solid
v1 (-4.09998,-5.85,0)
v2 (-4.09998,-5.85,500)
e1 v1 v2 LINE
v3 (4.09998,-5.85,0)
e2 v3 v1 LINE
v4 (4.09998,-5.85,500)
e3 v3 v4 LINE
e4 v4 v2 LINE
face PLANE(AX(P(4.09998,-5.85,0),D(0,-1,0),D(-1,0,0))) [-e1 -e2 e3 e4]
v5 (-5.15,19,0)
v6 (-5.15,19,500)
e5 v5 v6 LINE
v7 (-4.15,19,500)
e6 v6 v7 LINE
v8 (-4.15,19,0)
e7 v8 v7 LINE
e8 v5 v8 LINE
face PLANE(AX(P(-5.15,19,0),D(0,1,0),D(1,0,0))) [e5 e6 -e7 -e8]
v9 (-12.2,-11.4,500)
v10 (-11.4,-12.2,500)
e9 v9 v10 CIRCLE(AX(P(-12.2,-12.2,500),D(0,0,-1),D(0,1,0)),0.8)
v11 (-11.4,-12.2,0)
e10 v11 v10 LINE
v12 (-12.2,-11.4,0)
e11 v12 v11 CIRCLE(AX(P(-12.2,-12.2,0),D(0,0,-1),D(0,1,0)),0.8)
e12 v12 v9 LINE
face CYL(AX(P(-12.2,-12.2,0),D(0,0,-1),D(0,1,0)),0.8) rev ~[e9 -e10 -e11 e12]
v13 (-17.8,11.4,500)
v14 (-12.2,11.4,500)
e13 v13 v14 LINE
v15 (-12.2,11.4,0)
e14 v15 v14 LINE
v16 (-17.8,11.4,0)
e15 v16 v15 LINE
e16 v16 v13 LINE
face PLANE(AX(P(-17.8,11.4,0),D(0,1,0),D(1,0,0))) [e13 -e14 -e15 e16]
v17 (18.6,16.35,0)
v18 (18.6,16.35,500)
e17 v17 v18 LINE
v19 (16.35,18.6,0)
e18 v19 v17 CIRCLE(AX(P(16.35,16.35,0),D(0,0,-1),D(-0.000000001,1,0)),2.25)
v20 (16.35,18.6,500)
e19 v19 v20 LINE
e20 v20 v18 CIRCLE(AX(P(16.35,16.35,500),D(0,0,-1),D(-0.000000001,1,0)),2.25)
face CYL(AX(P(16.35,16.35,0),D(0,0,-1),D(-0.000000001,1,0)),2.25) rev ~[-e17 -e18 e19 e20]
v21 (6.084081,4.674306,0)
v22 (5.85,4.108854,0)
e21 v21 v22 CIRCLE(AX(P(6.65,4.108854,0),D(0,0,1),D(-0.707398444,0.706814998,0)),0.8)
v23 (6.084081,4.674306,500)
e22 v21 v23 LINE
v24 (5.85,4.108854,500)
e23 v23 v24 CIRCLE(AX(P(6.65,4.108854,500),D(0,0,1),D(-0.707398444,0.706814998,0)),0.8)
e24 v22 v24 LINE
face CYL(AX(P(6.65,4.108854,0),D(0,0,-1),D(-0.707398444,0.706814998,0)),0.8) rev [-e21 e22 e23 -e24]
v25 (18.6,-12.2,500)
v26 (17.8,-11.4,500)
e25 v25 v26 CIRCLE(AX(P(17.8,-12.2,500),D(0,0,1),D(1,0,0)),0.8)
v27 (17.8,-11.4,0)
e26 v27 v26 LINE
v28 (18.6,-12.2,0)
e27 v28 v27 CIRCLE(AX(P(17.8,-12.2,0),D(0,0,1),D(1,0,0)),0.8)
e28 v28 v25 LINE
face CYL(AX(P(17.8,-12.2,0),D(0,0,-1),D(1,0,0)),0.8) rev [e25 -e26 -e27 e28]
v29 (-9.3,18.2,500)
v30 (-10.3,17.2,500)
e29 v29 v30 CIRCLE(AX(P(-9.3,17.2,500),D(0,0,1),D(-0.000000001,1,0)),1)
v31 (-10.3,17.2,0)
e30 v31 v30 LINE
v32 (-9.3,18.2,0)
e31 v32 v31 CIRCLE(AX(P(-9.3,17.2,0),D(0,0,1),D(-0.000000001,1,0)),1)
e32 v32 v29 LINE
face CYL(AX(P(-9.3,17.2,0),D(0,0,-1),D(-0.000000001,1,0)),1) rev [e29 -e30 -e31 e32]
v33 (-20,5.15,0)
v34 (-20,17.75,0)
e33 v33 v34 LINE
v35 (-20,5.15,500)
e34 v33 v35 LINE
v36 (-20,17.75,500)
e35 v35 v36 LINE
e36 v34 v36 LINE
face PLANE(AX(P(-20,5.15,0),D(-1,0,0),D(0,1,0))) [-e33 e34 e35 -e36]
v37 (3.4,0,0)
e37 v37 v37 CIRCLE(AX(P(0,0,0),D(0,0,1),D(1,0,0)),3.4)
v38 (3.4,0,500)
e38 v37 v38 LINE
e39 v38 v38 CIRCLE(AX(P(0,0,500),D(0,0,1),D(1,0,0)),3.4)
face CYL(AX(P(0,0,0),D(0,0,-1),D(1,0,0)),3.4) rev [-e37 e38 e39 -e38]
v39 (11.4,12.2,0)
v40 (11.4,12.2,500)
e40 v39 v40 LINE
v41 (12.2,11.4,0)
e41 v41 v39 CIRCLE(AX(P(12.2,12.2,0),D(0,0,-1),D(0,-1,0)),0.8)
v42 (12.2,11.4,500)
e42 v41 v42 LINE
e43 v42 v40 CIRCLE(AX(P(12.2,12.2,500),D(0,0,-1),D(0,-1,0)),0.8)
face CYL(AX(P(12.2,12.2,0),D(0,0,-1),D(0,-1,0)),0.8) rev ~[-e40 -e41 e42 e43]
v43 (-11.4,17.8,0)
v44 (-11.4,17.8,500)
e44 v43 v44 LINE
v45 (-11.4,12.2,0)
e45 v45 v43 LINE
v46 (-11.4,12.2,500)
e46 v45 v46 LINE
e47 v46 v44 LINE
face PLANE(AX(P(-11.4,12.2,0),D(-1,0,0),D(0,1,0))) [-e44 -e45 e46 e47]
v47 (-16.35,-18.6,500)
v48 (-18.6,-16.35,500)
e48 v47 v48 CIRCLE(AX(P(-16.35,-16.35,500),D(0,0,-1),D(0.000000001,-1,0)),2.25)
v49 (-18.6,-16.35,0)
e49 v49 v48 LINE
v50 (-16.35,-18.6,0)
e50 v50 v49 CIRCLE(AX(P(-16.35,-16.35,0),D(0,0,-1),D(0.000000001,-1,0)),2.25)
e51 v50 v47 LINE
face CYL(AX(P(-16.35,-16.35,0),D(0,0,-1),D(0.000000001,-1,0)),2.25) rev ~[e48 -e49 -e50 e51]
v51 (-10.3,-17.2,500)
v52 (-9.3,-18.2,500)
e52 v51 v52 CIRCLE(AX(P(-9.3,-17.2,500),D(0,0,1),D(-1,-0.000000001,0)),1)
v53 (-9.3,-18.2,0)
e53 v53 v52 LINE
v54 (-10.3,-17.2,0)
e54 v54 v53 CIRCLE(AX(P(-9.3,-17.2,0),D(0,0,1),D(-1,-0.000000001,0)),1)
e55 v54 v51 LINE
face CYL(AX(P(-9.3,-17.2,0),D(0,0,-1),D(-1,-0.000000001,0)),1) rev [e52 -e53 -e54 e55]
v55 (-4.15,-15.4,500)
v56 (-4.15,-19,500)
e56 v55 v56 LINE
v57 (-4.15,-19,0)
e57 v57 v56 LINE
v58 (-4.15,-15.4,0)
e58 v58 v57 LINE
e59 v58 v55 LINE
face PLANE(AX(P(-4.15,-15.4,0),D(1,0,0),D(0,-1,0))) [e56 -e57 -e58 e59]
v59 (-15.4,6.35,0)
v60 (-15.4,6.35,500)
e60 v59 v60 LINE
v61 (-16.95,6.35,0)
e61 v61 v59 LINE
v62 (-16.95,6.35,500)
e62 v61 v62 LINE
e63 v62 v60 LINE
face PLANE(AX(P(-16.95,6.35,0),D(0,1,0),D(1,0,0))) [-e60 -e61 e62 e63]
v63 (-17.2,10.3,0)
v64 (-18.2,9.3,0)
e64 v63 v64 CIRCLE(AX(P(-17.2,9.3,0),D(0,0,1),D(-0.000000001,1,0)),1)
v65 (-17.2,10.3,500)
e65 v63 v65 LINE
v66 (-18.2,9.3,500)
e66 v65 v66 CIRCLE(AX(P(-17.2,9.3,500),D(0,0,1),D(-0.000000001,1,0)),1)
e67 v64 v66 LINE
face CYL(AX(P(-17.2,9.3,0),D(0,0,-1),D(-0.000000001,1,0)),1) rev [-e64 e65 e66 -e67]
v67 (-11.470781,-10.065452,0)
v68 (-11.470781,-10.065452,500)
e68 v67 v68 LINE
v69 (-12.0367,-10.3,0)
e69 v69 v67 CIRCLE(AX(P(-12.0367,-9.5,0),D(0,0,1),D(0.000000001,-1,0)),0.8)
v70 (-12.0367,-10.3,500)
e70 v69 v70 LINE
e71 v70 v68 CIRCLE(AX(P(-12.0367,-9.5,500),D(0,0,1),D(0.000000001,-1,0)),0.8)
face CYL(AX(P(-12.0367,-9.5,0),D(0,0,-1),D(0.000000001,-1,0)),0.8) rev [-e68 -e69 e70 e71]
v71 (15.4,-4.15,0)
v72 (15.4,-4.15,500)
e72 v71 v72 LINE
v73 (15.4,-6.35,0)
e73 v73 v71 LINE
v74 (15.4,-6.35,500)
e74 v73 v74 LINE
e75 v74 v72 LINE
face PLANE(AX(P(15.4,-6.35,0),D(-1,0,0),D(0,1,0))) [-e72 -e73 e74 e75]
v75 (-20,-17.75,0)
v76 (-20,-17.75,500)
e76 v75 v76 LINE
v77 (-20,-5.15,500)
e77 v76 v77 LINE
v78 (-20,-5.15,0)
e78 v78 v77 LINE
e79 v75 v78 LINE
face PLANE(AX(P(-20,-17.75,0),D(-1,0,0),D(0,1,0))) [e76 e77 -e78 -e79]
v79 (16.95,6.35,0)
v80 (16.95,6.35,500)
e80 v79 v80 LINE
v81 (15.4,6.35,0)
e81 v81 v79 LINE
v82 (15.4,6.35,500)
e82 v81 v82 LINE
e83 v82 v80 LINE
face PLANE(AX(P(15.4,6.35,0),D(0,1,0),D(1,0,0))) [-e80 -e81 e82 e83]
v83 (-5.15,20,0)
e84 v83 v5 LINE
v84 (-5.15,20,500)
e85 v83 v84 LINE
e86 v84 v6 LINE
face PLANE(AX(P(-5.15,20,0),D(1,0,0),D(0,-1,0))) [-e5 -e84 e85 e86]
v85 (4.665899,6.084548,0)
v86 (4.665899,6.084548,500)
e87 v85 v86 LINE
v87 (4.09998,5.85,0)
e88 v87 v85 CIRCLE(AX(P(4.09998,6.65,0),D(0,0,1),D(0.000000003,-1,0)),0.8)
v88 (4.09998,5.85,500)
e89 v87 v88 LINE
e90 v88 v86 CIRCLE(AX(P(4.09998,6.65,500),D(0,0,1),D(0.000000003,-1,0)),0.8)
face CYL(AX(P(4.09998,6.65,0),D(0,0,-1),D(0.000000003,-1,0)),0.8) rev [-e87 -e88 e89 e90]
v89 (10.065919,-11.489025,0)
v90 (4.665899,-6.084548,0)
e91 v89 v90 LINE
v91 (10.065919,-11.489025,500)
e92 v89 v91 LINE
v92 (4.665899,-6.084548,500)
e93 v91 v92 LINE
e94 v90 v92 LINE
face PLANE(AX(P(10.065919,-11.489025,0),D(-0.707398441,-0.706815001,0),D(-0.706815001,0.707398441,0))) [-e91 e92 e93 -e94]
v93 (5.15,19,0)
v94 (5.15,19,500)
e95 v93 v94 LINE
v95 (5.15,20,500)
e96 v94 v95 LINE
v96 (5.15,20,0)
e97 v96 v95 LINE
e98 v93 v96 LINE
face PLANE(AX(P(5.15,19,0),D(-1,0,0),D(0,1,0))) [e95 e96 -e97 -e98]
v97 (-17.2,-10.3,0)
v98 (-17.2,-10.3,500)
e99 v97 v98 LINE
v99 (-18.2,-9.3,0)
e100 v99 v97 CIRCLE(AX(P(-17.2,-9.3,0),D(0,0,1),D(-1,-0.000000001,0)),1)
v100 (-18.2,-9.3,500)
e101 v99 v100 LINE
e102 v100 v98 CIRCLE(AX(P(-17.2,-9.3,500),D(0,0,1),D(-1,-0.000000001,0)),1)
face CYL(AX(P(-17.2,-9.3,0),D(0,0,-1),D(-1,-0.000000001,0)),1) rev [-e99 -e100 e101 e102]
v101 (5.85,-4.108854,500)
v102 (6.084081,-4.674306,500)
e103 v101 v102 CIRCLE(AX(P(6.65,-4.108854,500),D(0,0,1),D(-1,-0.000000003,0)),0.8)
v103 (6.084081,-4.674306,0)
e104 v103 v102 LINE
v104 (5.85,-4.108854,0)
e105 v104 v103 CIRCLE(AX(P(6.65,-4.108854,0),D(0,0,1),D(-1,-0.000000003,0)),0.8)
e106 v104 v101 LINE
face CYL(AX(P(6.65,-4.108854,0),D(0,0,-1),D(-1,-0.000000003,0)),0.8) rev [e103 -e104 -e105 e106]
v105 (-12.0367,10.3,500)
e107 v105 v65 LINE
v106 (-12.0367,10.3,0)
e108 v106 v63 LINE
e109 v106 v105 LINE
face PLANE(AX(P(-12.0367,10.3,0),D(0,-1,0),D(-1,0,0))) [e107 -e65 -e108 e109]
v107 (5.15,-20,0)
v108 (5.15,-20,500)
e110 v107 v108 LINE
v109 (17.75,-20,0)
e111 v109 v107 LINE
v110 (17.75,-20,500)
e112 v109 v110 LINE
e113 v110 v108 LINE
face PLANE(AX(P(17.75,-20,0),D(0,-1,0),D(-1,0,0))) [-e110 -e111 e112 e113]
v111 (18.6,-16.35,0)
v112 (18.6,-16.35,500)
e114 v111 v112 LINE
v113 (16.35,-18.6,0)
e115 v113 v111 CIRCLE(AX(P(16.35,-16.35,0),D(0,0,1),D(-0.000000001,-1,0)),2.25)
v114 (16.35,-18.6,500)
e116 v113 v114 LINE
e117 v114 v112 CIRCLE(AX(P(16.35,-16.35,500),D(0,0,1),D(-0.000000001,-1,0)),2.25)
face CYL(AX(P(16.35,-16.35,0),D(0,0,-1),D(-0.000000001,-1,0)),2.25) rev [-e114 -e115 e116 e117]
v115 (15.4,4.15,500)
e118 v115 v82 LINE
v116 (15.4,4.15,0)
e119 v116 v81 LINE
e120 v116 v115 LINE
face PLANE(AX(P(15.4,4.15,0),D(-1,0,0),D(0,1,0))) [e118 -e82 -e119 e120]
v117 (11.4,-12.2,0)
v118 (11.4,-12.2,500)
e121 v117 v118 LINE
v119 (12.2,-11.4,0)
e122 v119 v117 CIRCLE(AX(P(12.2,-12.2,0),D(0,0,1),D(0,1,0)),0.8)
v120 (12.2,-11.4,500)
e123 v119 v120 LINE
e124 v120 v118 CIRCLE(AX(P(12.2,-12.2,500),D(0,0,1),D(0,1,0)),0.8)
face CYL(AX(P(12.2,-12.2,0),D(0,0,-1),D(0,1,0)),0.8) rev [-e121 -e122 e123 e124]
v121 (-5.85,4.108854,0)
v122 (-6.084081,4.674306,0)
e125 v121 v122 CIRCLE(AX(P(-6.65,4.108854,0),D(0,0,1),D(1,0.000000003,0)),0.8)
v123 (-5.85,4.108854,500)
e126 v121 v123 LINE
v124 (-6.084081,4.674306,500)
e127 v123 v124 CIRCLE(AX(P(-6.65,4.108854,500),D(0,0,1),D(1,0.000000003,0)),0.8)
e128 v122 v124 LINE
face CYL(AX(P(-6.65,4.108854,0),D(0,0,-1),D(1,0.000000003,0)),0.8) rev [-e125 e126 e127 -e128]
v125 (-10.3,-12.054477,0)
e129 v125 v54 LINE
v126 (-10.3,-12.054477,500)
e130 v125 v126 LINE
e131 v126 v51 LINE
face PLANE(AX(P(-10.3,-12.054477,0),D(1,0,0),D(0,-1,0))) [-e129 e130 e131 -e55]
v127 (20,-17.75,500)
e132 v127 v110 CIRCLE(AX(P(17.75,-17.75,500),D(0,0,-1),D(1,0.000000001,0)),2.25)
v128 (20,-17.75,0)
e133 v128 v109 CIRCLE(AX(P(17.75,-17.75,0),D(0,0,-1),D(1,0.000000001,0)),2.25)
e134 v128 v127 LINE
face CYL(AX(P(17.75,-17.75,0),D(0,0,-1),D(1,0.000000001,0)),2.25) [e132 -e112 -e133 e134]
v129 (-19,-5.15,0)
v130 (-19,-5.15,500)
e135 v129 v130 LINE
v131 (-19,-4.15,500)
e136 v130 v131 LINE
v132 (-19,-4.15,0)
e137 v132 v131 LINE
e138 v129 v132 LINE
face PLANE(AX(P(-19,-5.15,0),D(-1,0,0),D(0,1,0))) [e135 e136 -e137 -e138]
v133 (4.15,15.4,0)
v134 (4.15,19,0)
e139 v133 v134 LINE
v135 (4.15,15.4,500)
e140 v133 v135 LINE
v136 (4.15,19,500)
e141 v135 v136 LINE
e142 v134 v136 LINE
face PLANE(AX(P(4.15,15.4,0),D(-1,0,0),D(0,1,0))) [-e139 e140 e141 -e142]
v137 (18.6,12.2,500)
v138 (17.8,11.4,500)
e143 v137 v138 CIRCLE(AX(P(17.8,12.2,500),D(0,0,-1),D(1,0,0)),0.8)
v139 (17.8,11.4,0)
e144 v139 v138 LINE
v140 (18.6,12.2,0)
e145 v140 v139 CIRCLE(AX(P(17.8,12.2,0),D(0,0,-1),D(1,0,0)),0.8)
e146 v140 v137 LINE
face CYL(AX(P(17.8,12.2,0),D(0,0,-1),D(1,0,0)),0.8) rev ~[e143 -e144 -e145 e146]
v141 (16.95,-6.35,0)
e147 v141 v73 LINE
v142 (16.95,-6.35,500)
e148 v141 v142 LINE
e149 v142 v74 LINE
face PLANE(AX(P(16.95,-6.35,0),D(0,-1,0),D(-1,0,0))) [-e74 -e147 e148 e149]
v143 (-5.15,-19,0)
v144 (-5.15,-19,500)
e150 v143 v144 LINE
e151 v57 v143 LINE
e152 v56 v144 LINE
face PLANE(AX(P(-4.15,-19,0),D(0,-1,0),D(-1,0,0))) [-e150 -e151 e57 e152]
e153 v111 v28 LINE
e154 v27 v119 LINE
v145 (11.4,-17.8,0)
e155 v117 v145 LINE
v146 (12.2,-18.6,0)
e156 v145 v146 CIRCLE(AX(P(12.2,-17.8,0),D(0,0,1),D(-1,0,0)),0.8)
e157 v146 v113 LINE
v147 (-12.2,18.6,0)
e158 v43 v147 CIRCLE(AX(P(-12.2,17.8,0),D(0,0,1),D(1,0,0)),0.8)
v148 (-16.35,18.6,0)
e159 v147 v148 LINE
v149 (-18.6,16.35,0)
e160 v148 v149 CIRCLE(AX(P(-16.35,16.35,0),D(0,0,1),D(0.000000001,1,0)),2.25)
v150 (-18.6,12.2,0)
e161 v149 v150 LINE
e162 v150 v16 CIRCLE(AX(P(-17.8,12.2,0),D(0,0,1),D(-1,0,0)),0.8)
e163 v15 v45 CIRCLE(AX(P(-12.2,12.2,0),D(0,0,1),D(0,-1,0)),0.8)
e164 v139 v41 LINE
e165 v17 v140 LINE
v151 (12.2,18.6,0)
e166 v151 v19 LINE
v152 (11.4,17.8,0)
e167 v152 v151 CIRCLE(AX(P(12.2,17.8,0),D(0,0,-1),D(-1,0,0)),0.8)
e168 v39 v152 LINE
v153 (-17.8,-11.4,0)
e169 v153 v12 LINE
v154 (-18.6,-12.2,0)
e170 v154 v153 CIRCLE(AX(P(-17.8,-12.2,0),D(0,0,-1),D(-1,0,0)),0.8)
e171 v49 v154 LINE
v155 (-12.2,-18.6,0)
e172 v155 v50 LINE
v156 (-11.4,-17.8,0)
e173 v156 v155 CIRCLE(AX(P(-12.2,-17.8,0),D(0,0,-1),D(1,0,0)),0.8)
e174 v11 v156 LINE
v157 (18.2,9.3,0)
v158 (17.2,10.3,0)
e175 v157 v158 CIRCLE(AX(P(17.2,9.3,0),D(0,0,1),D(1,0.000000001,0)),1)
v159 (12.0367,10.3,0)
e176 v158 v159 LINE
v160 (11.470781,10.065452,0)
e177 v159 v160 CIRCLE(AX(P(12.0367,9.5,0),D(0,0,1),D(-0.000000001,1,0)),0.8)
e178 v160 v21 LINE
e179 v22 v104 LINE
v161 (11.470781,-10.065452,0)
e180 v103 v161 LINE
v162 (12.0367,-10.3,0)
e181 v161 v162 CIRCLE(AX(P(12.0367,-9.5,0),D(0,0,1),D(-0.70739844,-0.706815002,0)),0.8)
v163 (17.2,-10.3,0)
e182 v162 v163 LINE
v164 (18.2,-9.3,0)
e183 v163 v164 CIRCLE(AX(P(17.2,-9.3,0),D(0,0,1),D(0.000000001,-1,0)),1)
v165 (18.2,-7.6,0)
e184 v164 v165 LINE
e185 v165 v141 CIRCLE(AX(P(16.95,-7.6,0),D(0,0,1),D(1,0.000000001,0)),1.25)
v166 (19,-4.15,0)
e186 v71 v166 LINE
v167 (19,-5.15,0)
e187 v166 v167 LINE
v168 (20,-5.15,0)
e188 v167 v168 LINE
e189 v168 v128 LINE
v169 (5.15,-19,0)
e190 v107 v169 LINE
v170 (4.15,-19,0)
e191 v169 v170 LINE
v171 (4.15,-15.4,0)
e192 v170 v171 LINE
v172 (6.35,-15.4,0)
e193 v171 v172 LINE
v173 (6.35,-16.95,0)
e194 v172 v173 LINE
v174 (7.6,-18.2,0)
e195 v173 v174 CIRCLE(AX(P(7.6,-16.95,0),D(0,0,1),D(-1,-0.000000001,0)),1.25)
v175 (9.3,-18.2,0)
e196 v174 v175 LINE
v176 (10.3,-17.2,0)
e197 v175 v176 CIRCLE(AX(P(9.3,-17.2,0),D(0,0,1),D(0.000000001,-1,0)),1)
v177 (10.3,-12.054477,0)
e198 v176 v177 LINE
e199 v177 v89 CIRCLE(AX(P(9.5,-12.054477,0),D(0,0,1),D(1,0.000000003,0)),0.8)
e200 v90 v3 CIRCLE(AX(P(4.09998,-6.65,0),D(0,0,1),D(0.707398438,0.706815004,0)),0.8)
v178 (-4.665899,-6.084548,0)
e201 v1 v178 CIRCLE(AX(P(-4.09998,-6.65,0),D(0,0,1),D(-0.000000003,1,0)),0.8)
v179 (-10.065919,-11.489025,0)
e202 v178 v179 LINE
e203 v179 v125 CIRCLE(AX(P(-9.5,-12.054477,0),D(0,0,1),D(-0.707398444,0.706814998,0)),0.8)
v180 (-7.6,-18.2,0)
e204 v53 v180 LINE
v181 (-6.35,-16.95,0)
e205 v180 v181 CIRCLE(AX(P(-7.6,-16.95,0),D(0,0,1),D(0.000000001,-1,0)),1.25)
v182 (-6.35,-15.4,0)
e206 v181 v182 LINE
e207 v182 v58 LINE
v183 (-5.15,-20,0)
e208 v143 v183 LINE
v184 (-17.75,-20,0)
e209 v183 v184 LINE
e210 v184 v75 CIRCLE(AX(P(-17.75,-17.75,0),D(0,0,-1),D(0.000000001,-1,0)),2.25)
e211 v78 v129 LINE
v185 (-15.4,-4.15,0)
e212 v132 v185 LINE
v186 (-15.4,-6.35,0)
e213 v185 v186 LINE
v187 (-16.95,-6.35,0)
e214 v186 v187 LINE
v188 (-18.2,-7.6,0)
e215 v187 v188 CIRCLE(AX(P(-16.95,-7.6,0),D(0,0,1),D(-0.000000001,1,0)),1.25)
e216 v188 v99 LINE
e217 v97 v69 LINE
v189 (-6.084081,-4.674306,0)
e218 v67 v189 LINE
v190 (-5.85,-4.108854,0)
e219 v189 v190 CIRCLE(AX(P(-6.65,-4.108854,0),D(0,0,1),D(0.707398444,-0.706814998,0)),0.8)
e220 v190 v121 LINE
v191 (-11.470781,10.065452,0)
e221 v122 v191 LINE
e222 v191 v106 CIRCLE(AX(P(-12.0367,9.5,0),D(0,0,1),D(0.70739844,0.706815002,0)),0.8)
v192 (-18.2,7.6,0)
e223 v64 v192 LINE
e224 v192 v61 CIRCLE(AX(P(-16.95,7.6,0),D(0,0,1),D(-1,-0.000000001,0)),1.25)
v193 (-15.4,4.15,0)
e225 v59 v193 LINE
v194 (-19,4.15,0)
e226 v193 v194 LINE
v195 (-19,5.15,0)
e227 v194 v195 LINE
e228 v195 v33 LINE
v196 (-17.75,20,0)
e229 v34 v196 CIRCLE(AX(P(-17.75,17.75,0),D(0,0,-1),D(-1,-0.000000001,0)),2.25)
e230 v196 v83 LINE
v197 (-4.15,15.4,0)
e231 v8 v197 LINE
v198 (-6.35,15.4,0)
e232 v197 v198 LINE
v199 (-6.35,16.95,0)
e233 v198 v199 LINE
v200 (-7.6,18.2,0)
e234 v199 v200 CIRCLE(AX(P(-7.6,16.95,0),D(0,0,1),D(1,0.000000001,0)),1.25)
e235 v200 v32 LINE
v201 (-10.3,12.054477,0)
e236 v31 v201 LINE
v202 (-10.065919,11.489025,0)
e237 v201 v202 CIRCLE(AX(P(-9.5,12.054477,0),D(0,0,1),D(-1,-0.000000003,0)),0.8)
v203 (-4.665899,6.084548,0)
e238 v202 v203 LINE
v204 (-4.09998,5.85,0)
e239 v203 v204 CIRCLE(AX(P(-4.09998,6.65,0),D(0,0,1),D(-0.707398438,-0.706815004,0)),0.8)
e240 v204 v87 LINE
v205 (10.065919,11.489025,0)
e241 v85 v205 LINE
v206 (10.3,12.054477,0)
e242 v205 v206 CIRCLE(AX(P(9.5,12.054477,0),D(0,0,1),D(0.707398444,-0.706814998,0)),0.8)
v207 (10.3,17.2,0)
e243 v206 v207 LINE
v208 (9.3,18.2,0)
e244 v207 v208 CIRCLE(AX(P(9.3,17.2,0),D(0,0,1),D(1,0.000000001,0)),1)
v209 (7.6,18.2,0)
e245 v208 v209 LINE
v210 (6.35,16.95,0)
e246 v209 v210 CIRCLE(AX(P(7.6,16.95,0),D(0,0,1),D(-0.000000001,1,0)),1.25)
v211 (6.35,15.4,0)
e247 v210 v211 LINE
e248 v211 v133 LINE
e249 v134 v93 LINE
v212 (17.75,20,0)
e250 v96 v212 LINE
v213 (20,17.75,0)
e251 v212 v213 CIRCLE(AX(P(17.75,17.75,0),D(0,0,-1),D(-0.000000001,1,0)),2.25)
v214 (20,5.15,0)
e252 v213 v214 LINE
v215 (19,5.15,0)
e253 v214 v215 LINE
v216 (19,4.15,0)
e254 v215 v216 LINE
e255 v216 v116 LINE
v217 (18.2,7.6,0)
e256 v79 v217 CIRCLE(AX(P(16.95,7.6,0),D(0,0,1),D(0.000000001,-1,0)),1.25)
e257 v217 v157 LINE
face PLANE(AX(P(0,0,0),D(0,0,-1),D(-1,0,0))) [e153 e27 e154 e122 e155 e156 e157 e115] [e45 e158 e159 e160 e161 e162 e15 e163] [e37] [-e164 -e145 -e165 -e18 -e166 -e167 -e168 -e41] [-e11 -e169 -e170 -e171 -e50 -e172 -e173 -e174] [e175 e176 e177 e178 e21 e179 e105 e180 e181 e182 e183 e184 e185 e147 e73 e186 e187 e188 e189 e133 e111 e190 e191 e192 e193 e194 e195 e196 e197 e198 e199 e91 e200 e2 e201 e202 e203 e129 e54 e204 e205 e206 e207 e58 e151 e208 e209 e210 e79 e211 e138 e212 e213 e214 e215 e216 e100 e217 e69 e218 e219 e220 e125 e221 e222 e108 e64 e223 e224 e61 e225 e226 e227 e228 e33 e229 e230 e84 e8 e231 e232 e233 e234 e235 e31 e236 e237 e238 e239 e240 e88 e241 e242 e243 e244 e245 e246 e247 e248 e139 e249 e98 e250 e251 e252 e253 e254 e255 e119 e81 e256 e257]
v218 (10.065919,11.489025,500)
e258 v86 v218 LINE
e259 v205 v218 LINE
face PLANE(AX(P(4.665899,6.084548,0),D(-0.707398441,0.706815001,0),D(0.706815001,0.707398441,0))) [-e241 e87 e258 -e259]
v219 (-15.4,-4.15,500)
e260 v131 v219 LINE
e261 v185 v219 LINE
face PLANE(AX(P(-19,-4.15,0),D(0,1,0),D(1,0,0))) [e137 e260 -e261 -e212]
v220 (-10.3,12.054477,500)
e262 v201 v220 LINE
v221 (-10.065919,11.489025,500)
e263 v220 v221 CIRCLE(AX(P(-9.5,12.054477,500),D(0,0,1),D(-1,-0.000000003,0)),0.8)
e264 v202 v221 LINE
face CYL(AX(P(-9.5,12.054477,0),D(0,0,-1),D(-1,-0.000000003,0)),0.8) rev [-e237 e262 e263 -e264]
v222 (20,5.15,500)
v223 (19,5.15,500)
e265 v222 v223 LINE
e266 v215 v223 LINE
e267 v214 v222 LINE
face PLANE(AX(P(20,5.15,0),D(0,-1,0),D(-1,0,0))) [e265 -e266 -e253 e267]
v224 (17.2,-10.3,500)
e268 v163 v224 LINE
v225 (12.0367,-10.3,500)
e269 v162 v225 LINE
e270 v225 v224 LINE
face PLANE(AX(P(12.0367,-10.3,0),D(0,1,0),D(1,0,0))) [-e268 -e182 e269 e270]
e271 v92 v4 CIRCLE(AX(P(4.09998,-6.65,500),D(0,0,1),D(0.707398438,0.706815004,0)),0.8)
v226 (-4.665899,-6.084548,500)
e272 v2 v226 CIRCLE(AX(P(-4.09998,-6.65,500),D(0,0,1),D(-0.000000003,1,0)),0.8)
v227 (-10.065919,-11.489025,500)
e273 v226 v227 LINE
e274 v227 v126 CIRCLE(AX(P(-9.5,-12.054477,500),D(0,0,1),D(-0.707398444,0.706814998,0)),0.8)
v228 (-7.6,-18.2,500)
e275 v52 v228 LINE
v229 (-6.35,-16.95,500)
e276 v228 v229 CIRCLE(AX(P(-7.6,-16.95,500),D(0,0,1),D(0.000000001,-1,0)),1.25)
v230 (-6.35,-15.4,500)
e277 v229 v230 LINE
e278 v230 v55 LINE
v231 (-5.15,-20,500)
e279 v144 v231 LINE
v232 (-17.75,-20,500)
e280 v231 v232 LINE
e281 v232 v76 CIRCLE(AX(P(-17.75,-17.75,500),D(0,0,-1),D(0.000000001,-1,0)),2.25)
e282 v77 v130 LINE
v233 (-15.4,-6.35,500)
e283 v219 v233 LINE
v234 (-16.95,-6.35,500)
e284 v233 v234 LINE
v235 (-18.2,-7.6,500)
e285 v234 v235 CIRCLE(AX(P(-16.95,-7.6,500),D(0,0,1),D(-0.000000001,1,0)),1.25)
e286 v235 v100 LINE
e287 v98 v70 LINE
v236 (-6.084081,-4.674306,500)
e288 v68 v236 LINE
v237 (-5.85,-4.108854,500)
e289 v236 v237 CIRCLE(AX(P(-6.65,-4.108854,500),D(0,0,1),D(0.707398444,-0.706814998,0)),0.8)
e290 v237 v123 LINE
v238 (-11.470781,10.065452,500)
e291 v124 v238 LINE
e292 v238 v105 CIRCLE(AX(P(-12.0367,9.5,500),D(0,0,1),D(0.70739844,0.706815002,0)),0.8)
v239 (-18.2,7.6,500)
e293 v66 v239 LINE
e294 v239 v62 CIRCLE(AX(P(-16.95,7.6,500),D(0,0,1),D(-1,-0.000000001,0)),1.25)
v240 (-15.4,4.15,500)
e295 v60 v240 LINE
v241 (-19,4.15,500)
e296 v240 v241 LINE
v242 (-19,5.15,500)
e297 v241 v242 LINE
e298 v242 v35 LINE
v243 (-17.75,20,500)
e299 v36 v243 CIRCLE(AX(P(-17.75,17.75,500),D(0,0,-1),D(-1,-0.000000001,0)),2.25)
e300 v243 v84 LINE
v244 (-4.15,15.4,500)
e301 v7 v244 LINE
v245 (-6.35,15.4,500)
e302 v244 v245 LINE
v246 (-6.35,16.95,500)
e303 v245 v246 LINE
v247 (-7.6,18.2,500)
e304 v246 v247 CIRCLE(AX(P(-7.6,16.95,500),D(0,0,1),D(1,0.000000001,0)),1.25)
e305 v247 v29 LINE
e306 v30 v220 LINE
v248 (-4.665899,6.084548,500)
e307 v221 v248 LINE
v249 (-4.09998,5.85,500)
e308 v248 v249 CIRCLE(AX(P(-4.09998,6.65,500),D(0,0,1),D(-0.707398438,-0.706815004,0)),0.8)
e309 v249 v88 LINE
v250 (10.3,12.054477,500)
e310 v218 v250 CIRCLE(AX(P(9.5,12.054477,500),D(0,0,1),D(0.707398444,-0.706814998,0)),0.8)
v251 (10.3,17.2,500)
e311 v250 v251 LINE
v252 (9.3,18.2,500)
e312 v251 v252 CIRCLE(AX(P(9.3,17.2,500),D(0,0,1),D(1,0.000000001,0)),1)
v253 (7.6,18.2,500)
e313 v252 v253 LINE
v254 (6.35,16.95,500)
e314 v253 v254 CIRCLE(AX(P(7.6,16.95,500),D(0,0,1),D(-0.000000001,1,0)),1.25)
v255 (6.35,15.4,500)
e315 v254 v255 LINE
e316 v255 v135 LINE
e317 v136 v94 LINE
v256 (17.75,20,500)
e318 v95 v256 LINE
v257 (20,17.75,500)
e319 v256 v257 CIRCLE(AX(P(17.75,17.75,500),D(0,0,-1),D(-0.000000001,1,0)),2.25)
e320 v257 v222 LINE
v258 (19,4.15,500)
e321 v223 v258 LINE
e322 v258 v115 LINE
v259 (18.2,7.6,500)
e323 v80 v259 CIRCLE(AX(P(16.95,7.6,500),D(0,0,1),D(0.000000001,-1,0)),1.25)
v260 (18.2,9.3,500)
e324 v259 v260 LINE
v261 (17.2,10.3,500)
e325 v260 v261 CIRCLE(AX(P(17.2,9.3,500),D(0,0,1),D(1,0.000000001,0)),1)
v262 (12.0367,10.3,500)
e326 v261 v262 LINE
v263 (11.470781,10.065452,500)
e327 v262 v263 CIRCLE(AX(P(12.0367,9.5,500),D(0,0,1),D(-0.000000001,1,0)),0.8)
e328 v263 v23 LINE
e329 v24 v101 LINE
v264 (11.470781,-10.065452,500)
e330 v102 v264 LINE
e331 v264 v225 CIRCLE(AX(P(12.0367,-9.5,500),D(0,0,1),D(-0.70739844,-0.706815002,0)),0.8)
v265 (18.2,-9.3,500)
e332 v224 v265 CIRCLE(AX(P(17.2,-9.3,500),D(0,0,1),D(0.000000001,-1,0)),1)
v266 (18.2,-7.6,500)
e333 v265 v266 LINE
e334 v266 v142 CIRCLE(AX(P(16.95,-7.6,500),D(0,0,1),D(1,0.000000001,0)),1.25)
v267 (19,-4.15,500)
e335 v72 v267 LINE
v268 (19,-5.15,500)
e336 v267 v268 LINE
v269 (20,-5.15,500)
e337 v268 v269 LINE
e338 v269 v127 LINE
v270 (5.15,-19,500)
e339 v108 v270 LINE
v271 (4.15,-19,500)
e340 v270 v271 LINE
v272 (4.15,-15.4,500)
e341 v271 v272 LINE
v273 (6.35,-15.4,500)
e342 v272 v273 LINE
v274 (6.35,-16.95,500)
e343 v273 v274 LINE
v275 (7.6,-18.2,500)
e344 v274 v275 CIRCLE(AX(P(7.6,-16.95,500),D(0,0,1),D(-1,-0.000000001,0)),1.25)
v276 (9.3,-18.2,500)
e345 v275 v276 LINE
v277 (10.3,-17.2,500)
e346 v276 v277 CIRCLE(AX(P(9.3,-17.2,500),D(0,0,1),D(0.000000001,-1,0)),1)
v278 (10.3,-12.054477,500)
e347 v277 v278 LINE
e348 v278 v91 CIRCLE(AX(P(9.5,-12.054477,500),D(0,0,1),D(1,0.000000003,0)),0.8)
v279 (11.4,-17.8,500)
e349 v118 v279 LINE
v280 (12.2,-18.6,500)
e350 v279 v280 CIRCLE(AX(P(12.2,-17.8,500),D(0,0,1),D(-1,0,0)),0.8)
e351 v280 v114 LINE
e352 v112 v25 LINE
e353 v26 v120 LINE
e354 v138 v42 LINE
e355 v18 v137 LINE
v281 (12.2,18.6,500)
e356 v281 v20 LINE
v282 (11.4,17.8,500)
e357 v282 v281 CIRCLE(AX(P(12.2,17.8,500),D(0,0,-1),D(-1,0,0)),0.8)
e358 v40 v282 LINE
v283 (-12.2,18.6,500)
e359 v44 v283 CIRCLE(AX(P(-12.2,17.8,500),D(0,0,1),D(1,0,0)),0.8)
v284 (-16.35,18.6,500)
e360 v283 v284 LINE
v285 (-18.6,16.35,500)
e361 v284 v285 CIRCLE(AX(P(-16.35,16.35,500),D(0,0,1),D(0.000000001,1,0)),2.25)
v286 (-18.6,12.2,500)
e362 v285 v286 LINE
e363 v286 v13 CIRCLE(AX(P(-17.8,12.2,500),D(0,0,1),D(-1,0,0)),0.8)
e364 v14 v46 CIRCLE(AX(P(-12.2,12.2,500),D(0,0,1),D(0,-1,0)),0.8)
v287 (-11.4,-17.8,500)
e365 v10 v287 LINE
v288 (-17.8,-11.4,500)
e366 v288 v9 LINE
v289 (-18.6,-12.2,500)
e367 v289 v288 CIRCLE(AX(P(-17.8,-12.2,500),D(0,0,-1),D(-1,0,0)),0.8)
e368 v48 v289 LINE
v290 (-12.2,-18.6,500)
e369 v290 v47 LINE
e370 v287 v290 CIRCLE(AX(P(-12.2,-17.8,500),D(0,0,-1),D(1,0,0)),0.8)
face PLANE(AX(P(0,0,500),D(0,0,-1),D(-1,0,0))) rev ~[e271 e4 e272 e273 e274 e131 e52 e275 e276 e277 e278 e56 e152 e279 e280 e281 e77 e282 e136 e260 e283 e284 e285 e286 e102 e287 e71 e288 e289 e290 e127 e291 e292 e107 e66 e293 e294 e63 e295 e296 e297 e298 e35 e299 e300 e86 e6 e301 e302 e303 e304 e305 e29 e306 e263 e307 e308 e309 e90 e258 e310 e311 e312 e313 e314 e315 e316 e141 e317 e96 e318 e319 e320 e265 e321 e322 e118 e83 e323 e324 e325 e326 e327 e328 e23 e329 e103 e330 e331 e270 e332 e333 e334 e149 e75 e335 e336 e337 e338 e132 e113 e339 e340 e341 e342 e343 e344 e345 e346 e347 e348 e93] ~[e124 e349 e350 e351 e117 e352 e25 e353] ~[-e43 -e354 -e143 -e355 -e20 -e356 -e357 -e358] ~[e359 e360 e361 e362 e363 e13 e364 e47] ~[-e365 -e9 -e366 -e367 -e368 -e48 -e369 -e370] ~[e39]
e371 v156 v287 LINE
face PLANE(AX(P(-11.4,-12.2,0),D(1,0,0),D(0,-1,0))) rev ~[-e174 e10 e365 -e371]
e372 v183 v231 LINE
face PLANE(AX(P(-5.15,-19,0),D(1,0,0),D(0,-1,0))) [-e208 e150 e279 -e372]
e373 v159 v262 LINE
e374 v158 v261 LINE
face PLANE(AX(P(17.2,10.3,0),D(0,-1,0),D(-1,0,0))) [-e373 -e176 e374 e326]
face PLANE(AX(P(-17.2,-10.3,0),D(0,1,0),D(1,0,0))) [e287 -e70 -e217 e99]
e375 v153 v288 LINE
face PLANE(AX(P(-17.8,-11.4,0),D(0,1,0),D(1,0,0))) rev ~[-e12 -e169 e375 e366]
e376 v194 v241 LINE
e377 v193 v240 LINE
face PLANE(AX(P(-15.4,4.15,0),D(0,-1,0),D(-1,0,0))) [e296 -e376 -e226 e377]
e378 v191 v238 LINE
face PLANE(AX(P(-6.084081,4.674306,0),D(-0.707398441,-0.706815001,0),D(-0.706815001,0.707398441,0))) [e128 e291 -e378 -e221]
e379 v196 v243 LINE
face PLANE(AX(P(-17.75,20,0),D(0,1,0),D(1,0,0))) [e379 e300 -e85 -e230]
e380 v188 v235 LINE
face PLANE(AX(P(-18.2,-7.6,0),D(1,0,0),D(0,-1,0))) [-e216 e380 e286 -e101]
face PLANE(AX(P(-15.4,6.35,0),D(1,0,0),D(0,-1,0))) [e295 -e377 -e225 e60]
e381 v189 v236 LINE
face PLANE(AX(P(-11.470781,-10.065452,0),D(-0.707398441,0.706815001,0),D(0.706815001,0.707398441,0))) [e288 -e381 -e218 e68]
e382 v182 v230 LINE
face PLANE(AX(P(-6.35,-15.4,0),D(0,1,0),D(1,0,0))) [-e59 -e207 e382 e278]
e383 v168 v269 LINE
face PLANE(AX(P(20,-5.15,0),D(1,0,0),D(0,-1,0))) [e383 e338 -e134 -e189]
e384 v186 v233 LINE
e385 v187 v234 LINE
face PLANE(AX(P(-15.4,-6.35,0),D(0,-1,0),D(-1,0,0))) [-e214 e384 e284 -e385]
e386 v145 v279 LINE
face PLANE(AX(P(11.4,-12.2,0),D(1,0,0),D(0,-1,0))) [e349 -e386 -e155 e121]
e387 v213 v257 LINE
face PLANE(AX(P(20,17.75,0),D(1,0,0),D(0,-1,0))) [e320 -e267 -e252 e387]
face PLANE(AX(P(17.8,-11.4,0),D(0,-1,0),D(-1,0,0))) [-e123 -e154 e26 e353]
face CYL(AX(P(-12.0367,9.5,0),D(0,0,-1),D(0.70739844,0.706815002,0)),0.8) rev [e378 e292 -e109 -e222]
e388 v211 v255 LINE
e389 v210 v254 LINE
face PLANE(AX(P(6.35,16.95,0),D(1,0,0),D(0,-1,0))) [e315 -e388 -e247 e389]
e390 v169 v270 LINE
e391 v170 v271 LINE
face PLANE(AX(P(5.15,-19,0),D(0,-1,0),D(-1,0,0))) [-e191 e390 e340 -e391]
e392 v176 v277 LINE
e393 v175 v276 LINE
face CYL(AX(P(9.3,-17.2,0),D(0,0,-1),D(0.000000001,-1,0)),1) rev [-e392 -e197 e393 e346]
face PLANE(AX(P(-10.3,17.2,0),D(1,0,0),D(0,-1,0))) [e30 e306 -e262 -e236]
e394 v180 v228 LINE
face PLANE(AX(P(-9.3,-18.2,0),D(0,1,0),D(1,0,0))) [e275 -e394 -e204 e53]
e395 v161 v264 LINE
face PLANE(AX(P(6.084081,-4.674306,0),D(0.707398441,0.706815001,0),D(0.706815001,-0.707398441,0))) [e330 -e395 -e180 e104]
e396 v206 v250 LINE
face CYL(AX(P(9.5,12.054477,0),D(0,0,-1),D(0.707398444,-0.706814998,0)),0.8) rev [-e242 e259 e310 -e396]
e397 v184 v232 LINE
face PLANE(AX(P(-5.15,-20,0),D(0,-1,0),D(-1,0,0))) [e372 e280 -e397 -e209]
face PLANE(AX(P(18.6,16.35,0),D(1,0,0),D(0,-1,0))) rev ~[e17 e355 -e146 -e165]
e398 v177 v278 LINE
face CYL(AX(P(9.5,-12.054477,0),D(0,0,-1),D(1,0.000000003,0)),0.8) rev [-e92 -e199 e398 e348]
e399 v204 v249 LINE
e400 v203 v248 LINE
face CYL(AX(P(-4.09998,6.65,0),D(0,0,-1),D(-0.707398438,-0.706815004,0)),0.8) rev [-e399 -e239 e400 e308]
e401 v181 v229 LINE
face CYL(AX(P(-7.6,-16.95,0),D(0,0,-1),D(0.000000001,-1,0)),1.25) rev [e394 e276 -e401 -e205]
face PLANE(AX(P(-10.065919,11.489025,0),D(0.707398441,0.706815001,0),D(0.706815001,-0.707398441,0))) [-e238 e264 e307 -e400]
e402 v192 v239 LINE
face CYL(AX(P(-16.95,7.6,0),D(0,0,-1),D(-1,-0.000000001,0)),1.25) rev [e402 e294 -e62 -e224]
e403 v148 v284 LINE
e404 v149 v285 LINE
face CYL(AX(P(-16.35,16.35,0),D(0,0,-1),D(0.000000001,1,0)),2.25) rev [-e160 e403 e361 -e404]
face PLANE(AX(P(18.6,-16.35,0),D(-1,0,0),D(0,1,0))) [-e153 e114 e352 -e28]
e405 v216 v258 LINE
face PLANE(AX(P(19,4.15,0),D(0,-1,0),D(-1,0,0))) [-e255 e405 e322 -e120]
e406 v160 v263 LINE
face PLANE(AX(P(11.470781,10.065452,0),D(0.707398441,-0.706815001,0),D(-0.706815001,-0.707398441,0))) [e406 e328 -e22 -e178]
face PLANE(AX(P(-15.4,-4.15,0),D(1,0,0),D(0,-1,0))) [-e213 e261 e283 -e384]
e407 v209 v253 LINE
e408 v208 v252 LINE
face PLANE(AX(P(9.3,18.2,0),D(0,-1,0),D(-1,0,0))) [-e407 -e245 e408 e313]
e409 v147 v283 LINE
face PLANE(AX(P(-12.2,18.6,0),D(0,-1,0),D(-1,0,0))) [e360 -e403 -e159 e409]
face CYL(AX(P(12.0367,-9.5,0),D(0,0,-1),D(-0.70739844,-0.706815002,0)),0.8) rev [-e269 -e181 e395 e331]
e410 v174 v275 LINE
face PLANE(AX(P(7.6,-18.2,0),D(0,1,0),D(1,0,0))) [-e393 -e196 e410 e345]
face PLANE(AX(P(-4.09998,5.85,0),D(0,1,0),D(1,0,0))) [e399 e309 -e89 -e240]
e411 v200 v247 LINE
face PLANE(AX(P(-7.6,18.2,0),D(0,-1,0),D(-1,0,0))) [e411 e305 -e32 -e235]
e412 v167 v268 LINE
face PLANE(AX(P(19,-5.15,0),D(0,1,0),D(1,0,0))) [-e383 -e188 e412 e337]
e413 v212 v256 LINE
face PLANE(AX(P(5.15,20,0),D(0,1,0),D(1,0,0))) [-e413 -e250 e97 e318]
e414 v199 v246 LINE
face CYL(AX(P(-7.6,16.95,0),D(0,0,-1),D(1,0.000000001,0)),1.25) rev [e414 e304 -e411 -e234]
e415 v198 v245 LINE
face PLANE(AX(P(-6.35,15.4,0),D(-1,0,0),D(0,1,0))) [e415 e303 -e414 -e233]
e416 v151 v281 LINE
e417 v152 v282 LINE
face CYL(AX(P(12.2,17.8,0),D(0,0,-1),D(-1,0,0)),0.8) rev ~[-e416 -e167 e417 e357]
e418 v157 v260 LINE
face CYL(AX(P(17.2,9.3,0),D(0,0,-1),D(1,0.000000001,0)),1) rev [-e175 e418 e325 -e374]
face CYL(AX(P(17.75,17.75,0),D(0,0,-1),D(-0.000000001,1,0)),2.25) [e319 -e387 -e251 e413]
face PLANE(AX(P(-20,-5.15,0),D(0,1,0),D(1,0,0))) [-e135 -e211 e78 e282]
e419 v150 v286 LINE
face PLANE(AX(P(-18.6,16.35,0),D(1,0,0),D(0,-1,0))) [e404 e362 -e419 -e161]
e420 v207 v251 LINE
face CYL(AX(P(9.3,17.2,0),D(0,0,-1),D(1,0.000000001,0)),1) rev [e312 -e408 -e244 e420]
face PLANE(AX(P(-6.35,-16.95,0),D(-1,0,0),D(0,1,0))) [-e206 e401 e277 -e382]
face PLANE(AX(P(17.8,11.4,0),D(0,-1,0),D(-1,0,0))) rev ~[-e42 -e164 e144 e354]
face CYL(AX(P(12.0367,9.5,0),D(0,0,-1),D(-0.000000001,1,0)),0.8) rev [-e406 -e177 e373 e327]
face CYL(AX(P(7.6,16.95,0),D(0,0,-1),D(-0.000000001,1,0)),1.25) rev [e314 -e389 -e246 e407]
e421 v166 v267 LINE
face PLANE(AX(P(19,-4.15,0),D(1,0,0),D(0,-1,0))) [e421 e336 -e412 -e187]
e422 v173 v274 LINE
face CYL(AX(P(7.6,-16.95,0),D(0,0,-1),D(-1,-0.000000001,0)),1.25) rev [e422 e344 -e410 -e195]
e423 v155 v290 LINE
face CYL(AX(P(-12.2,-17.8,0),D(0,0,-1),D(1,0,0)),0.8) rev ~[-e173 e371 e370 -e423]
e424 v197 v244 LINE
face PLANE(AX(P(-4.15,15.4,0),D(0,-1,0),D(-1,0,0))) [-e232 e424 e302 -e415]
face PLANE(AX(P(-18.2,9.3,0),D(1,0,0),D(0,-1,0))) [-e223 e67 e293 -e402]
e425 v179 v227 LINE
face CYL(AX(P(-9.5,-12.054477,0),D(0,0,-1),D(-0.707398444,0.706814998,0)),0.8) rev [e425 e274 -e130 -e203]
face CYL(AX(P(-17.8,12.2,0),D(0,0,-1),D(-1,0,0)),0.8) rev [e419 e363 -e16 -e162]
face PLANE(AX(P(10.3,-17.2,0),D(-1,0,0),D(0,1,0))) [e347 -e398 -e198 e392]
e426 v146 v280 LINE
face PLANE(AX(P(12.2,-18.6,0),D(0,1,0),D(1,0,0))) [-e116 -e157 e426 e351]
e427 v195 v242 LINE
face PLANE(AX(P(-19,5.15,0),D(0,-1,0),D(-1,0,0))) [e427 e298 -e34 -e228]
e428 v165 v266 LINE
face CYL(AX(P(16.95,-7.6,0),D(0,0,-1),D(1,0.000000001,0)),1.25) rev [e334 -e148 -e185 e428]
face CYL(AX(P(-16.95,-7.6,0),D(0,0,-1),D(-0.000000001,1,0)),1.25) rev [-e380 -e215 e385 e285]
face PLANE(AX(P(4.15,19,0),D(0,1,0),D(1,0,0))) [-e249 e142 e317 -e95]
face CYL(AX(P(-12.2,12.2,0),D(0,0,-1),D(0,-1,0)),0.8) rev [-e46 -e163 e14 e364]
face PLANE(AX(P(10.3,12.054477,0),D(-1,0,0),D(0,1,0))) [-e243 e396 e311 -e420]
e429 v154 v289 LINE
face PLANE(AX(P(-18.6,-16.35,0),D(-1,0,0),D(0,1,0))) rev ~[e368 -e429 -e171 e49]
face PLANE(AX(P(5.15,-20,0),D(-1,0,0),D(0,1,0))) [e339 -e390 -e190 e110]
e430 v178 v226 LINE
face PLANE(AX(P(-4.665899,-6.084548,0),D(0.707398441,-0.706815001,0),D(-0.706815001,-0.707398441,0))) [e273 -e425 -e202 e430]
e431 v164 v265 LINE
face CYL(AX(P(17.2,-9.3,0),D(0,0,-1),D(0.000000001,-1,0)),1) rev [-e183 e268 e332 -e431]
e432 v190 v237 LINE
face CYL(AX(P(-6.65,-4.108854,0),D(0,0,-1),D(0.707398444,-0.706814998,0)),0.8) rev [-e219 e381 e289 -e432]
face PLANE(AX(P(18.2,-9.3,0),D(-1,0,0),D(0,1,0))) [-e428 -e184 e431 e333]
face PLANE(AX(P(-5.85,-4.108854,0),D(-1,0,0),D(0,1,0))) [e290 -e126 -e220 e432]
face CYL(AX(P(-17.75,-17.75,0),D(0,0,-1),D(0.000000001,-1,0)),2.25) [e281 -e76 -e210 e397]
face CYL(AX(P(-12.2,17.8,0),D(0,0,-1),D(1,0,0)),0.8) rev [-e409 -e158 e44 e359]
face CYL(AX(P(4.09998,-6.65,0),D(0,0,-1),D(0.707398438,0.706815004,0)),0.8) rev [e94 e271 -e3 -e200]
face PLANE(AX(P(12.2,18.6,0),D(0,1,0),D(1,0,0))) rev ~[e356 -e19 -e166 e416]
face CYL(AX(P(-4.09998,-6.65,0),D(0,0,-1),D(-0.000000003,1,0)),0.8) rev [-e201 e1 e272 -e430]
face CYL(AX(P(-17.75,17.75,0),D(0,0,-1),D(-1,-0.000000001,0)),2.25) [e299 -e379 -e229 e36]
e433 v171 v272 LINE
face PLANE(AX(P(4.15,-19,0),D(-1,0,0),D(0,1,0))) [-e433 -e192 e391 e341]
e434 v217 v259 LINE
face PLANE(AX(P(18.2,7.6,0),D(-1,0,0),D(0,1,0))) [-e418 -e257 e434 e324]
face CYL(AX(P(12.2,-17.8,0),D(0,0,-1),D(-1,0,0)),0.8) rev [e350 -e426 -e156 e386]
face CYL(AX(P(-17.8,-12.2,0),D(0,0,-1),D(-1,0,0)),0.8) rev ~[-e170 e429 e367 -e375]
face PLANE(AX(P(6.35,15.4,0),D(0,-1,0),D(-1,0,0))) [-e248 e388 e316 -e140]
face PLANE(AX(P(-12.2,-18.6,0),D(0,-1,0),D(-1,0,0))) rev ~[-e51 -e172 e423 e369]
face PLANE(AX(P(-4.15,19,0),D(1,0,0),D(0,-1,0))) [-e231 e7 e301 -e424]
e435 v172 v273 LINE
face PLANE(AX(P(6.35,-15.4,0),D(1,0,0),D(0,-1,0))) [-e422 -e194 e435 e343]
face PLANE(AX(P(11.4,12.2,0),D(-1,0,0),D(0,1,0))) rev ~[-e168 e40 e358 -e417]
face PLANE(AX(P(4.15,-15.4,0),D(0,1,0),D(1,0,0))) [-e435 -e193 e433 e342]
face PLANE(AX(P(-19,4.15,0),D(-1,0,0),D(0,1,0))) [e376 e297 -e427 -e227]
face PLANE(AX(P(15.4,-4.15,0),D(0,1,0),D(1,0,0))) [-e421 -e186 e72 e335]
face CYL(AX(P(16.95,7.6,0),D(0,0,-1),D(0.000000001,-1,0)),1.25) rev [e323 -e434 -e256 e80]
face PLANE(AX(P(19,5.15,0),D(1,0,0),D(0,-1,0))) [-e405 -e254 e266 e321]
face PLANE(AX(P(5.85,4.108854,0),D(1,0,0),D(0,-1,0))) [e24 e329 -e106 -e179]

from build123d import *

# Parameters (mm, degrees)
SKETCH1_R           = 3.4
BOSS_EXTRUDE1_DEPTH = 500


with BuildPart() as part:
    # Sketch1 → Boss-Extrude1 (new body)
    with BuildSketch(Plane.XY):
        with BuildLine():
            Line((20, 17.75), (20, 5.15))
            Line((20, 5.15), (19, 5.15))
            Line((19, 5.15), (19, 4.15))
            Line((19, 4.15), (15.4, 4.15))
            Line((15.4, 4.15), (15.4, 6.35))
            Line((15.4, 6.35), (16.95, 6.35))
            ThreePointArc((16.95, 6.35), (17.833883476, 6.716116524), (18.2, 7.6))
            Line((18.2, 7.6), (18.2, 9.3))
            ThreePointArc((18.2, 9.3), (17.907106781, 10.007106781), (17.2, 10.3))
            Line((17.2, 10.3), (12.03669957, 10.3))
            ThreePointArc((12.03669957, 10.3), (11.73040037, 10.239040459), (11.470780817, 10.065452001))
            Line((11.470780817, 10.065452001), (6.084081247, 4.674305984))
            ThreePointArc((6.084081247, 4.674305984), (5.910833239, 4.414848262), (5.85, 4.108853983))
            Line((5.85, 4.108853983), (5.85, -4.108853983))
            ThreePointArc((5.85, -4.108853983), (5.910833239, -4.414848262), (6.084081247, -4.674305984))
            Line((6.084081247, -4.674305984), (11.470780817, -10.065452001))
            ThreePointArc((11.470780817, -10.065452001), (11.73040037, -10.239040459), (12.03669957, -10.3))
            Line((12.03669957, -10.3), (17.2, -10.3))
            ThreePointArc((17.2, -10.3), (17.907106781, -10.007106781), (18.2, -9.3))
            Line((18.2, -9.3), (18.2, -7.6))
            ThreePointArc((18.2, -7.6), (17.833883476, -6.716116524), (16.95, -6.35))
            Line((16.95, -6.35), (15.4, -6.35))
            Line((15.4, -6.35), (15.4, -4.15))
            Line((15.4, -4.15), (19, -4.15))
            Line((19, -4.15), (19, -5.15))
            Line((19, -5.15), (20, -5.15))
            Line((20, -5.15), (20, -17.75))
            ThreePointArc((20, -17.75), (19.340990258, -19.340990258), (17.75, -20))
            Line((17.75, -20), (5.15, -20))
            Line((5.15, -20), (5.15, -19))
            Line((5.15, -19), (4.15, -19))
            Line((4.15, -19), (4.15, -15.4))
            Line((4.15, -15.4), (6.35, -15.4))
            Line((6.35, -15.4), (6.35, -16.95))
            ThreePointArc((6.35, -16.95), (6.716116524, -17.833883476), (7.6, -18.2))
            Line((7.6, -18.2), (9.3, -18.2))
            ThreePointArc((9.3, -18.2), (10.007106781, -17.907106781), (10.3, -17.2))
            Line((10.3, -17.2), (10.3, -12.054477022))
            ThreePointArc((10.3, -12.054477022), (10.239166761, -11.748482743), (10.065918753, -11.489025021))
            Line((10.065918753, -11.489025021), (4.665899173, -6.084547999))
            ThreePointArc((4.665899173, -6.084547999), (4.406279619, -5.910959541), (4.09998042, -5.85))
            Line((4.09998042, -5.85), (-4.09998042, -5.85))
            ThreePointArc((-4.09998042, -5.85), (-4.406279619, -5.910959541), (-4.665899173, -6.084547999))
            Line((-4.665899173, -6.084547999), (-10.065918753, -11.489025021))
            ThreePointArc((-10.065918753, -11.489025021), (-10.239166761, -11.748482743), (-10.3, -12.054477022))
            Line((-10.3, -12.054477022), (-10.3, -17.2))
            ThreePointArc((-10.3, -17.2), (-10.007106781, -17.907106781), (-9.3, -18.2))
            Line((-9.3, -18.2), (-7.6, -18.2))
            ThreePointArc((-7.6, -18.2), (-6.716116524, -17.833883476), (-6.35, -16.95))
            Line((-6.35, -16.95), (-6.35, -15.4))
            Line((-6.35, -15.4), (-4.15, -15.4))
            Line((-4.15, -15.4), (-4.15, -19))
            Line((-4.15, -19), (-5.15, -19))
            Line((-5.15, -19), (-5.15, -20))
            Line((-5.15, -20), (-17.75, -20))
            ThreePointArc((-17.75, -20), (-19.340990258, -19.340990258), (-20, -17.75))
            Line((-20, -17.75), (-20, -5.15))
            Line((-20, -5.15), (-19, -5.15))
            Line((-19, -5.15), (-19, -4.15))
            Line((-19, -4.15), (-15.4, -4.15))
            Line((-15.4, -4.15), (-15.4, -6.35))
            Line((-15.4, -6.35), (-16.95, -6.35))
            ThreePointArc((-16.95, -6.35), (-17.833883476, -6.716116524), (-18.2, -7.6))
            Line((-18.2, -7.6), (-18.2, -9.3))
            ThreePointArc((-18.2, -9.3), (-17.907106781, -10.007106781), (-17.2, -10.3))
            Line((-17.2, -10.3), (-12.03669957, -10.3))
            ThreePointArc((-12.03669957, -10.3), (-11.73040037, -10.239040459), (-11.470780817, -10.065452001))
            Line((-11.470780817, -10.065452001), (-6.084081247, -4.674305984))
            ThreePointArc((-6.084081247, -4.674305984), (-5.910833239, -4.414848262), (-5.85, -4.108853983))
            Line((-5.85, -4.108853983), (-5.85, 4.108853983))
            ThreePointArc((-5.85, 4.108853983), (-5.910833239, 4.414848262), (-6.084081247, 4.674305984))
            Line((-6.084081247, 4.674305984), (-11.470780817, 10.065452001))
            ThreePointArc((-11.470780817, 10.065452001), (-11.73040037, 10.239040459), (-12.03669957, 10.3))
            Line((-12.03669957, 10.3), (-17.2, 10.3))
            ThreePointArc((-17.2, 10.3), (-17.907106781, 10.007106781), (-18.2, 9.3))
            Line((-18.2, 9.3), (-18.2, 7.6))
            ThreePointArc((-18.2, 7.6), (-17.833883476, 6.716116524), (-16.95, 6.35))
            Line((-16.95, 6.35), (-15.4, 6.35))
            Line((-15.4, 6.35), (-15.4, 4.15))
            Line((-15.4, 4.15), (-19, 4.15))
            Line((-19, 4.15), (-19, 5.15))
            Line((-19, 5.15), (-20, 5.15))
            Line((-20, 5.15), (-20, 17.75))
            ThreePointArc((-20, 17.75), (-19.340990258, 19.340990258), (-17.75, 20))
            Line((-17.75, 20), (-5.15, 20))
            Line((-5.15, 20), (-5.15, 19))
            Line((-5.15, 19), (-4.15, 19))
            Line((-4.15, 19), (-4.15, 15.4))
            Line((-4.15, 15.4), (-6.35, 15.4))
            Line((-6.35, 15.4), (-6.35, 16.95))
            ThreePointArc((-6.35, 16.95), (-6.716116524, 17.833883476), (-7.6, 18.2))
            Line((-7.6, 18.2), (-9.3, 18.2))
            ThreePointArc((-9.3, 18.2), (-10.007106781, 17.907106781), (-10.3, 17.2))
            Line((-10.3, 17.2), (-10.3, 12.054477022))
            ThreePointArc((-10.3, 12.054477022), (-10.239166761, 11.748482743), (-10.065918753, 11.489025021))
            Line((-10.065918753, 11.489025021), (-4.665899173, 6.084547999))
            ThreePointArc((-4.665899173, 6.084547999), (-4.406279619, 5.910959541), (-4.09998042, 5.85))
            Line((-4.09998042, 5.85), (4.09998042, 5.85))
            ThreePointArc((4.09998042, 5.85), (4.406279619, 5.910959541), (4.665899173, 6.084547999))
            Line((4.665899173, 6.084547999), (10.065918753, 11.489025021))
            ThreePointArc((10.065918753, 11.489025021), (10.239166761, 11.748482743), (10.3, 12.054477022))
            Line((10.3, 12.054477022), (10.3, 17.2))
            ThreePointArc((10.3, 17.2), (10.007106781, 17.907106781), (9.3, 18.2))
            Line((9.3, 18.2), (7.6, 18.2))
            ThreePointArc((7.6, 18.2), (6.716116524, 17.833883476), (6.35, 16.95))
            Line((6.35, 16.95), (6.35, 15.4))
            Line((6.35, 15.4), (4.15, 15.4))
            Line((4.15, 15.4), (4.15, 19))
            Line((4.15, 19), (5.15, 19))
            Line((5.15, 19), (5.15, 20))
            Line((5.15, 20), (17.75, 20))
            ThreePointArc((17.75, 20), (19.340990258, 19.340990258), (20, 17.75))
        make_face()
        Circle(SKETCH1_R, mode=Mode.SUBTRACT)
        with BuildLine():
            Line((18.6, 16.35), (18.6, 12.2))
            ThreePointArc((18.6, 12.2), (18.365685425, 11.634314575), (17.8, 11.4))
            Line((17.8, 11.4), (12.2, 11.4))
            ThreePointArc((12.2, 11.4), (11.634314575, 11.634314575), (11.4, 12.2))
            Line((11.4, 12.2), (11.4, 17.8))
            ThreePointArc((11.4, 17.8), (11.634314575, 18.365685425), (12.2, 18.6))
            Line((12.2, 18.6), (16.35, 18.6))
            ThreePointArc((16.35, 18.6), (17.940990258, 17.940990258), (18.6, 16.35))
        make_face(mode=Mode.SUBTRACT)
        with BuildLine():
            Line((-12.2, 18.6), (-16.35, 18.6))
            ThreePointArc((-16.35, 18.6), (-17.940990258, 17.940990258), (-18.6, 16.35))
            Line((-18.6, 16.35), (-18.6, 12.2))
            ThreePointArc((-18.6, 12.2), (-18.365685425, 11.634314575), (-17.8, 11.4))
            Line((-17.8, 11.4), (-12.2, 11.4))
            ThreePointArc((-12.2, 11.4), (-11.634314575, 11.634314575), (-11.4, 12.2))
            Line((-11.4, 12.2), (-11.4, 17.8))
            ThreePointArc((-11.4, 17.8), (-11.634314575, 18.365685425), (-12.2, 18.6))
        make_face(mode=Mode.SUBTRACT)
        with BuildLine():
            Line((-18.6, -16.35), (-18.6, -12.2))
            ThreePointArc((-18.6, -12.2), (-18.365685425, -11.634314575), (-17.8, -11.4))
            Line((-17.8, -11.4), (-12.2, -11.4))
            ThreePointArc((-12.2, -11.4), (-11.634314575, -11.634314575), (-11.4, -12.2))
            Line((-11.4, -12.2), (-11.4, -17.8))
            ThreePointArc((-11.4, -17.8), (-11.634314575, -18.365685425), (-12.2, -18.6))
            Line((-12.2, -18.6), (-16.35, -18.6))
            ThreePointArc((-16.35, -18.6), (-17.940990258, -17.940990258), (-18.6, -16.35))
        make_face(mode=Mode.SUBTRACT)
        with BuildLine():
            Line((12.2, -18.6), (16.35, -18.6))
            ThreePointArc((16.35, -18.6), (17.940990258, -17.940990258), (18.6, -16.35))
            Line((18.6, -16.35), (18.6, -12.2))
            ThreePointArc((18.6, -12.2), (18.365685425, -11.634314575), (17.8, -11.4))
            Line((17.8, -11.4), (12.2, -11.4))
            ThreePointArc((12.2, -11.4), (11.634314575, -11.634314575), (11.4, -12.2))
            Line((11.4, -12.2), (11.4, -17.8))
            ThreePointArc((11.4, -17.8), (11.634314575, -18.365685425), (12.2, -18.6))
        make_face(mode=Mode.SUBTRACT)
    extrude(amount=BOSS_EXTRUDE1_DEPTH)


solid = part.part
